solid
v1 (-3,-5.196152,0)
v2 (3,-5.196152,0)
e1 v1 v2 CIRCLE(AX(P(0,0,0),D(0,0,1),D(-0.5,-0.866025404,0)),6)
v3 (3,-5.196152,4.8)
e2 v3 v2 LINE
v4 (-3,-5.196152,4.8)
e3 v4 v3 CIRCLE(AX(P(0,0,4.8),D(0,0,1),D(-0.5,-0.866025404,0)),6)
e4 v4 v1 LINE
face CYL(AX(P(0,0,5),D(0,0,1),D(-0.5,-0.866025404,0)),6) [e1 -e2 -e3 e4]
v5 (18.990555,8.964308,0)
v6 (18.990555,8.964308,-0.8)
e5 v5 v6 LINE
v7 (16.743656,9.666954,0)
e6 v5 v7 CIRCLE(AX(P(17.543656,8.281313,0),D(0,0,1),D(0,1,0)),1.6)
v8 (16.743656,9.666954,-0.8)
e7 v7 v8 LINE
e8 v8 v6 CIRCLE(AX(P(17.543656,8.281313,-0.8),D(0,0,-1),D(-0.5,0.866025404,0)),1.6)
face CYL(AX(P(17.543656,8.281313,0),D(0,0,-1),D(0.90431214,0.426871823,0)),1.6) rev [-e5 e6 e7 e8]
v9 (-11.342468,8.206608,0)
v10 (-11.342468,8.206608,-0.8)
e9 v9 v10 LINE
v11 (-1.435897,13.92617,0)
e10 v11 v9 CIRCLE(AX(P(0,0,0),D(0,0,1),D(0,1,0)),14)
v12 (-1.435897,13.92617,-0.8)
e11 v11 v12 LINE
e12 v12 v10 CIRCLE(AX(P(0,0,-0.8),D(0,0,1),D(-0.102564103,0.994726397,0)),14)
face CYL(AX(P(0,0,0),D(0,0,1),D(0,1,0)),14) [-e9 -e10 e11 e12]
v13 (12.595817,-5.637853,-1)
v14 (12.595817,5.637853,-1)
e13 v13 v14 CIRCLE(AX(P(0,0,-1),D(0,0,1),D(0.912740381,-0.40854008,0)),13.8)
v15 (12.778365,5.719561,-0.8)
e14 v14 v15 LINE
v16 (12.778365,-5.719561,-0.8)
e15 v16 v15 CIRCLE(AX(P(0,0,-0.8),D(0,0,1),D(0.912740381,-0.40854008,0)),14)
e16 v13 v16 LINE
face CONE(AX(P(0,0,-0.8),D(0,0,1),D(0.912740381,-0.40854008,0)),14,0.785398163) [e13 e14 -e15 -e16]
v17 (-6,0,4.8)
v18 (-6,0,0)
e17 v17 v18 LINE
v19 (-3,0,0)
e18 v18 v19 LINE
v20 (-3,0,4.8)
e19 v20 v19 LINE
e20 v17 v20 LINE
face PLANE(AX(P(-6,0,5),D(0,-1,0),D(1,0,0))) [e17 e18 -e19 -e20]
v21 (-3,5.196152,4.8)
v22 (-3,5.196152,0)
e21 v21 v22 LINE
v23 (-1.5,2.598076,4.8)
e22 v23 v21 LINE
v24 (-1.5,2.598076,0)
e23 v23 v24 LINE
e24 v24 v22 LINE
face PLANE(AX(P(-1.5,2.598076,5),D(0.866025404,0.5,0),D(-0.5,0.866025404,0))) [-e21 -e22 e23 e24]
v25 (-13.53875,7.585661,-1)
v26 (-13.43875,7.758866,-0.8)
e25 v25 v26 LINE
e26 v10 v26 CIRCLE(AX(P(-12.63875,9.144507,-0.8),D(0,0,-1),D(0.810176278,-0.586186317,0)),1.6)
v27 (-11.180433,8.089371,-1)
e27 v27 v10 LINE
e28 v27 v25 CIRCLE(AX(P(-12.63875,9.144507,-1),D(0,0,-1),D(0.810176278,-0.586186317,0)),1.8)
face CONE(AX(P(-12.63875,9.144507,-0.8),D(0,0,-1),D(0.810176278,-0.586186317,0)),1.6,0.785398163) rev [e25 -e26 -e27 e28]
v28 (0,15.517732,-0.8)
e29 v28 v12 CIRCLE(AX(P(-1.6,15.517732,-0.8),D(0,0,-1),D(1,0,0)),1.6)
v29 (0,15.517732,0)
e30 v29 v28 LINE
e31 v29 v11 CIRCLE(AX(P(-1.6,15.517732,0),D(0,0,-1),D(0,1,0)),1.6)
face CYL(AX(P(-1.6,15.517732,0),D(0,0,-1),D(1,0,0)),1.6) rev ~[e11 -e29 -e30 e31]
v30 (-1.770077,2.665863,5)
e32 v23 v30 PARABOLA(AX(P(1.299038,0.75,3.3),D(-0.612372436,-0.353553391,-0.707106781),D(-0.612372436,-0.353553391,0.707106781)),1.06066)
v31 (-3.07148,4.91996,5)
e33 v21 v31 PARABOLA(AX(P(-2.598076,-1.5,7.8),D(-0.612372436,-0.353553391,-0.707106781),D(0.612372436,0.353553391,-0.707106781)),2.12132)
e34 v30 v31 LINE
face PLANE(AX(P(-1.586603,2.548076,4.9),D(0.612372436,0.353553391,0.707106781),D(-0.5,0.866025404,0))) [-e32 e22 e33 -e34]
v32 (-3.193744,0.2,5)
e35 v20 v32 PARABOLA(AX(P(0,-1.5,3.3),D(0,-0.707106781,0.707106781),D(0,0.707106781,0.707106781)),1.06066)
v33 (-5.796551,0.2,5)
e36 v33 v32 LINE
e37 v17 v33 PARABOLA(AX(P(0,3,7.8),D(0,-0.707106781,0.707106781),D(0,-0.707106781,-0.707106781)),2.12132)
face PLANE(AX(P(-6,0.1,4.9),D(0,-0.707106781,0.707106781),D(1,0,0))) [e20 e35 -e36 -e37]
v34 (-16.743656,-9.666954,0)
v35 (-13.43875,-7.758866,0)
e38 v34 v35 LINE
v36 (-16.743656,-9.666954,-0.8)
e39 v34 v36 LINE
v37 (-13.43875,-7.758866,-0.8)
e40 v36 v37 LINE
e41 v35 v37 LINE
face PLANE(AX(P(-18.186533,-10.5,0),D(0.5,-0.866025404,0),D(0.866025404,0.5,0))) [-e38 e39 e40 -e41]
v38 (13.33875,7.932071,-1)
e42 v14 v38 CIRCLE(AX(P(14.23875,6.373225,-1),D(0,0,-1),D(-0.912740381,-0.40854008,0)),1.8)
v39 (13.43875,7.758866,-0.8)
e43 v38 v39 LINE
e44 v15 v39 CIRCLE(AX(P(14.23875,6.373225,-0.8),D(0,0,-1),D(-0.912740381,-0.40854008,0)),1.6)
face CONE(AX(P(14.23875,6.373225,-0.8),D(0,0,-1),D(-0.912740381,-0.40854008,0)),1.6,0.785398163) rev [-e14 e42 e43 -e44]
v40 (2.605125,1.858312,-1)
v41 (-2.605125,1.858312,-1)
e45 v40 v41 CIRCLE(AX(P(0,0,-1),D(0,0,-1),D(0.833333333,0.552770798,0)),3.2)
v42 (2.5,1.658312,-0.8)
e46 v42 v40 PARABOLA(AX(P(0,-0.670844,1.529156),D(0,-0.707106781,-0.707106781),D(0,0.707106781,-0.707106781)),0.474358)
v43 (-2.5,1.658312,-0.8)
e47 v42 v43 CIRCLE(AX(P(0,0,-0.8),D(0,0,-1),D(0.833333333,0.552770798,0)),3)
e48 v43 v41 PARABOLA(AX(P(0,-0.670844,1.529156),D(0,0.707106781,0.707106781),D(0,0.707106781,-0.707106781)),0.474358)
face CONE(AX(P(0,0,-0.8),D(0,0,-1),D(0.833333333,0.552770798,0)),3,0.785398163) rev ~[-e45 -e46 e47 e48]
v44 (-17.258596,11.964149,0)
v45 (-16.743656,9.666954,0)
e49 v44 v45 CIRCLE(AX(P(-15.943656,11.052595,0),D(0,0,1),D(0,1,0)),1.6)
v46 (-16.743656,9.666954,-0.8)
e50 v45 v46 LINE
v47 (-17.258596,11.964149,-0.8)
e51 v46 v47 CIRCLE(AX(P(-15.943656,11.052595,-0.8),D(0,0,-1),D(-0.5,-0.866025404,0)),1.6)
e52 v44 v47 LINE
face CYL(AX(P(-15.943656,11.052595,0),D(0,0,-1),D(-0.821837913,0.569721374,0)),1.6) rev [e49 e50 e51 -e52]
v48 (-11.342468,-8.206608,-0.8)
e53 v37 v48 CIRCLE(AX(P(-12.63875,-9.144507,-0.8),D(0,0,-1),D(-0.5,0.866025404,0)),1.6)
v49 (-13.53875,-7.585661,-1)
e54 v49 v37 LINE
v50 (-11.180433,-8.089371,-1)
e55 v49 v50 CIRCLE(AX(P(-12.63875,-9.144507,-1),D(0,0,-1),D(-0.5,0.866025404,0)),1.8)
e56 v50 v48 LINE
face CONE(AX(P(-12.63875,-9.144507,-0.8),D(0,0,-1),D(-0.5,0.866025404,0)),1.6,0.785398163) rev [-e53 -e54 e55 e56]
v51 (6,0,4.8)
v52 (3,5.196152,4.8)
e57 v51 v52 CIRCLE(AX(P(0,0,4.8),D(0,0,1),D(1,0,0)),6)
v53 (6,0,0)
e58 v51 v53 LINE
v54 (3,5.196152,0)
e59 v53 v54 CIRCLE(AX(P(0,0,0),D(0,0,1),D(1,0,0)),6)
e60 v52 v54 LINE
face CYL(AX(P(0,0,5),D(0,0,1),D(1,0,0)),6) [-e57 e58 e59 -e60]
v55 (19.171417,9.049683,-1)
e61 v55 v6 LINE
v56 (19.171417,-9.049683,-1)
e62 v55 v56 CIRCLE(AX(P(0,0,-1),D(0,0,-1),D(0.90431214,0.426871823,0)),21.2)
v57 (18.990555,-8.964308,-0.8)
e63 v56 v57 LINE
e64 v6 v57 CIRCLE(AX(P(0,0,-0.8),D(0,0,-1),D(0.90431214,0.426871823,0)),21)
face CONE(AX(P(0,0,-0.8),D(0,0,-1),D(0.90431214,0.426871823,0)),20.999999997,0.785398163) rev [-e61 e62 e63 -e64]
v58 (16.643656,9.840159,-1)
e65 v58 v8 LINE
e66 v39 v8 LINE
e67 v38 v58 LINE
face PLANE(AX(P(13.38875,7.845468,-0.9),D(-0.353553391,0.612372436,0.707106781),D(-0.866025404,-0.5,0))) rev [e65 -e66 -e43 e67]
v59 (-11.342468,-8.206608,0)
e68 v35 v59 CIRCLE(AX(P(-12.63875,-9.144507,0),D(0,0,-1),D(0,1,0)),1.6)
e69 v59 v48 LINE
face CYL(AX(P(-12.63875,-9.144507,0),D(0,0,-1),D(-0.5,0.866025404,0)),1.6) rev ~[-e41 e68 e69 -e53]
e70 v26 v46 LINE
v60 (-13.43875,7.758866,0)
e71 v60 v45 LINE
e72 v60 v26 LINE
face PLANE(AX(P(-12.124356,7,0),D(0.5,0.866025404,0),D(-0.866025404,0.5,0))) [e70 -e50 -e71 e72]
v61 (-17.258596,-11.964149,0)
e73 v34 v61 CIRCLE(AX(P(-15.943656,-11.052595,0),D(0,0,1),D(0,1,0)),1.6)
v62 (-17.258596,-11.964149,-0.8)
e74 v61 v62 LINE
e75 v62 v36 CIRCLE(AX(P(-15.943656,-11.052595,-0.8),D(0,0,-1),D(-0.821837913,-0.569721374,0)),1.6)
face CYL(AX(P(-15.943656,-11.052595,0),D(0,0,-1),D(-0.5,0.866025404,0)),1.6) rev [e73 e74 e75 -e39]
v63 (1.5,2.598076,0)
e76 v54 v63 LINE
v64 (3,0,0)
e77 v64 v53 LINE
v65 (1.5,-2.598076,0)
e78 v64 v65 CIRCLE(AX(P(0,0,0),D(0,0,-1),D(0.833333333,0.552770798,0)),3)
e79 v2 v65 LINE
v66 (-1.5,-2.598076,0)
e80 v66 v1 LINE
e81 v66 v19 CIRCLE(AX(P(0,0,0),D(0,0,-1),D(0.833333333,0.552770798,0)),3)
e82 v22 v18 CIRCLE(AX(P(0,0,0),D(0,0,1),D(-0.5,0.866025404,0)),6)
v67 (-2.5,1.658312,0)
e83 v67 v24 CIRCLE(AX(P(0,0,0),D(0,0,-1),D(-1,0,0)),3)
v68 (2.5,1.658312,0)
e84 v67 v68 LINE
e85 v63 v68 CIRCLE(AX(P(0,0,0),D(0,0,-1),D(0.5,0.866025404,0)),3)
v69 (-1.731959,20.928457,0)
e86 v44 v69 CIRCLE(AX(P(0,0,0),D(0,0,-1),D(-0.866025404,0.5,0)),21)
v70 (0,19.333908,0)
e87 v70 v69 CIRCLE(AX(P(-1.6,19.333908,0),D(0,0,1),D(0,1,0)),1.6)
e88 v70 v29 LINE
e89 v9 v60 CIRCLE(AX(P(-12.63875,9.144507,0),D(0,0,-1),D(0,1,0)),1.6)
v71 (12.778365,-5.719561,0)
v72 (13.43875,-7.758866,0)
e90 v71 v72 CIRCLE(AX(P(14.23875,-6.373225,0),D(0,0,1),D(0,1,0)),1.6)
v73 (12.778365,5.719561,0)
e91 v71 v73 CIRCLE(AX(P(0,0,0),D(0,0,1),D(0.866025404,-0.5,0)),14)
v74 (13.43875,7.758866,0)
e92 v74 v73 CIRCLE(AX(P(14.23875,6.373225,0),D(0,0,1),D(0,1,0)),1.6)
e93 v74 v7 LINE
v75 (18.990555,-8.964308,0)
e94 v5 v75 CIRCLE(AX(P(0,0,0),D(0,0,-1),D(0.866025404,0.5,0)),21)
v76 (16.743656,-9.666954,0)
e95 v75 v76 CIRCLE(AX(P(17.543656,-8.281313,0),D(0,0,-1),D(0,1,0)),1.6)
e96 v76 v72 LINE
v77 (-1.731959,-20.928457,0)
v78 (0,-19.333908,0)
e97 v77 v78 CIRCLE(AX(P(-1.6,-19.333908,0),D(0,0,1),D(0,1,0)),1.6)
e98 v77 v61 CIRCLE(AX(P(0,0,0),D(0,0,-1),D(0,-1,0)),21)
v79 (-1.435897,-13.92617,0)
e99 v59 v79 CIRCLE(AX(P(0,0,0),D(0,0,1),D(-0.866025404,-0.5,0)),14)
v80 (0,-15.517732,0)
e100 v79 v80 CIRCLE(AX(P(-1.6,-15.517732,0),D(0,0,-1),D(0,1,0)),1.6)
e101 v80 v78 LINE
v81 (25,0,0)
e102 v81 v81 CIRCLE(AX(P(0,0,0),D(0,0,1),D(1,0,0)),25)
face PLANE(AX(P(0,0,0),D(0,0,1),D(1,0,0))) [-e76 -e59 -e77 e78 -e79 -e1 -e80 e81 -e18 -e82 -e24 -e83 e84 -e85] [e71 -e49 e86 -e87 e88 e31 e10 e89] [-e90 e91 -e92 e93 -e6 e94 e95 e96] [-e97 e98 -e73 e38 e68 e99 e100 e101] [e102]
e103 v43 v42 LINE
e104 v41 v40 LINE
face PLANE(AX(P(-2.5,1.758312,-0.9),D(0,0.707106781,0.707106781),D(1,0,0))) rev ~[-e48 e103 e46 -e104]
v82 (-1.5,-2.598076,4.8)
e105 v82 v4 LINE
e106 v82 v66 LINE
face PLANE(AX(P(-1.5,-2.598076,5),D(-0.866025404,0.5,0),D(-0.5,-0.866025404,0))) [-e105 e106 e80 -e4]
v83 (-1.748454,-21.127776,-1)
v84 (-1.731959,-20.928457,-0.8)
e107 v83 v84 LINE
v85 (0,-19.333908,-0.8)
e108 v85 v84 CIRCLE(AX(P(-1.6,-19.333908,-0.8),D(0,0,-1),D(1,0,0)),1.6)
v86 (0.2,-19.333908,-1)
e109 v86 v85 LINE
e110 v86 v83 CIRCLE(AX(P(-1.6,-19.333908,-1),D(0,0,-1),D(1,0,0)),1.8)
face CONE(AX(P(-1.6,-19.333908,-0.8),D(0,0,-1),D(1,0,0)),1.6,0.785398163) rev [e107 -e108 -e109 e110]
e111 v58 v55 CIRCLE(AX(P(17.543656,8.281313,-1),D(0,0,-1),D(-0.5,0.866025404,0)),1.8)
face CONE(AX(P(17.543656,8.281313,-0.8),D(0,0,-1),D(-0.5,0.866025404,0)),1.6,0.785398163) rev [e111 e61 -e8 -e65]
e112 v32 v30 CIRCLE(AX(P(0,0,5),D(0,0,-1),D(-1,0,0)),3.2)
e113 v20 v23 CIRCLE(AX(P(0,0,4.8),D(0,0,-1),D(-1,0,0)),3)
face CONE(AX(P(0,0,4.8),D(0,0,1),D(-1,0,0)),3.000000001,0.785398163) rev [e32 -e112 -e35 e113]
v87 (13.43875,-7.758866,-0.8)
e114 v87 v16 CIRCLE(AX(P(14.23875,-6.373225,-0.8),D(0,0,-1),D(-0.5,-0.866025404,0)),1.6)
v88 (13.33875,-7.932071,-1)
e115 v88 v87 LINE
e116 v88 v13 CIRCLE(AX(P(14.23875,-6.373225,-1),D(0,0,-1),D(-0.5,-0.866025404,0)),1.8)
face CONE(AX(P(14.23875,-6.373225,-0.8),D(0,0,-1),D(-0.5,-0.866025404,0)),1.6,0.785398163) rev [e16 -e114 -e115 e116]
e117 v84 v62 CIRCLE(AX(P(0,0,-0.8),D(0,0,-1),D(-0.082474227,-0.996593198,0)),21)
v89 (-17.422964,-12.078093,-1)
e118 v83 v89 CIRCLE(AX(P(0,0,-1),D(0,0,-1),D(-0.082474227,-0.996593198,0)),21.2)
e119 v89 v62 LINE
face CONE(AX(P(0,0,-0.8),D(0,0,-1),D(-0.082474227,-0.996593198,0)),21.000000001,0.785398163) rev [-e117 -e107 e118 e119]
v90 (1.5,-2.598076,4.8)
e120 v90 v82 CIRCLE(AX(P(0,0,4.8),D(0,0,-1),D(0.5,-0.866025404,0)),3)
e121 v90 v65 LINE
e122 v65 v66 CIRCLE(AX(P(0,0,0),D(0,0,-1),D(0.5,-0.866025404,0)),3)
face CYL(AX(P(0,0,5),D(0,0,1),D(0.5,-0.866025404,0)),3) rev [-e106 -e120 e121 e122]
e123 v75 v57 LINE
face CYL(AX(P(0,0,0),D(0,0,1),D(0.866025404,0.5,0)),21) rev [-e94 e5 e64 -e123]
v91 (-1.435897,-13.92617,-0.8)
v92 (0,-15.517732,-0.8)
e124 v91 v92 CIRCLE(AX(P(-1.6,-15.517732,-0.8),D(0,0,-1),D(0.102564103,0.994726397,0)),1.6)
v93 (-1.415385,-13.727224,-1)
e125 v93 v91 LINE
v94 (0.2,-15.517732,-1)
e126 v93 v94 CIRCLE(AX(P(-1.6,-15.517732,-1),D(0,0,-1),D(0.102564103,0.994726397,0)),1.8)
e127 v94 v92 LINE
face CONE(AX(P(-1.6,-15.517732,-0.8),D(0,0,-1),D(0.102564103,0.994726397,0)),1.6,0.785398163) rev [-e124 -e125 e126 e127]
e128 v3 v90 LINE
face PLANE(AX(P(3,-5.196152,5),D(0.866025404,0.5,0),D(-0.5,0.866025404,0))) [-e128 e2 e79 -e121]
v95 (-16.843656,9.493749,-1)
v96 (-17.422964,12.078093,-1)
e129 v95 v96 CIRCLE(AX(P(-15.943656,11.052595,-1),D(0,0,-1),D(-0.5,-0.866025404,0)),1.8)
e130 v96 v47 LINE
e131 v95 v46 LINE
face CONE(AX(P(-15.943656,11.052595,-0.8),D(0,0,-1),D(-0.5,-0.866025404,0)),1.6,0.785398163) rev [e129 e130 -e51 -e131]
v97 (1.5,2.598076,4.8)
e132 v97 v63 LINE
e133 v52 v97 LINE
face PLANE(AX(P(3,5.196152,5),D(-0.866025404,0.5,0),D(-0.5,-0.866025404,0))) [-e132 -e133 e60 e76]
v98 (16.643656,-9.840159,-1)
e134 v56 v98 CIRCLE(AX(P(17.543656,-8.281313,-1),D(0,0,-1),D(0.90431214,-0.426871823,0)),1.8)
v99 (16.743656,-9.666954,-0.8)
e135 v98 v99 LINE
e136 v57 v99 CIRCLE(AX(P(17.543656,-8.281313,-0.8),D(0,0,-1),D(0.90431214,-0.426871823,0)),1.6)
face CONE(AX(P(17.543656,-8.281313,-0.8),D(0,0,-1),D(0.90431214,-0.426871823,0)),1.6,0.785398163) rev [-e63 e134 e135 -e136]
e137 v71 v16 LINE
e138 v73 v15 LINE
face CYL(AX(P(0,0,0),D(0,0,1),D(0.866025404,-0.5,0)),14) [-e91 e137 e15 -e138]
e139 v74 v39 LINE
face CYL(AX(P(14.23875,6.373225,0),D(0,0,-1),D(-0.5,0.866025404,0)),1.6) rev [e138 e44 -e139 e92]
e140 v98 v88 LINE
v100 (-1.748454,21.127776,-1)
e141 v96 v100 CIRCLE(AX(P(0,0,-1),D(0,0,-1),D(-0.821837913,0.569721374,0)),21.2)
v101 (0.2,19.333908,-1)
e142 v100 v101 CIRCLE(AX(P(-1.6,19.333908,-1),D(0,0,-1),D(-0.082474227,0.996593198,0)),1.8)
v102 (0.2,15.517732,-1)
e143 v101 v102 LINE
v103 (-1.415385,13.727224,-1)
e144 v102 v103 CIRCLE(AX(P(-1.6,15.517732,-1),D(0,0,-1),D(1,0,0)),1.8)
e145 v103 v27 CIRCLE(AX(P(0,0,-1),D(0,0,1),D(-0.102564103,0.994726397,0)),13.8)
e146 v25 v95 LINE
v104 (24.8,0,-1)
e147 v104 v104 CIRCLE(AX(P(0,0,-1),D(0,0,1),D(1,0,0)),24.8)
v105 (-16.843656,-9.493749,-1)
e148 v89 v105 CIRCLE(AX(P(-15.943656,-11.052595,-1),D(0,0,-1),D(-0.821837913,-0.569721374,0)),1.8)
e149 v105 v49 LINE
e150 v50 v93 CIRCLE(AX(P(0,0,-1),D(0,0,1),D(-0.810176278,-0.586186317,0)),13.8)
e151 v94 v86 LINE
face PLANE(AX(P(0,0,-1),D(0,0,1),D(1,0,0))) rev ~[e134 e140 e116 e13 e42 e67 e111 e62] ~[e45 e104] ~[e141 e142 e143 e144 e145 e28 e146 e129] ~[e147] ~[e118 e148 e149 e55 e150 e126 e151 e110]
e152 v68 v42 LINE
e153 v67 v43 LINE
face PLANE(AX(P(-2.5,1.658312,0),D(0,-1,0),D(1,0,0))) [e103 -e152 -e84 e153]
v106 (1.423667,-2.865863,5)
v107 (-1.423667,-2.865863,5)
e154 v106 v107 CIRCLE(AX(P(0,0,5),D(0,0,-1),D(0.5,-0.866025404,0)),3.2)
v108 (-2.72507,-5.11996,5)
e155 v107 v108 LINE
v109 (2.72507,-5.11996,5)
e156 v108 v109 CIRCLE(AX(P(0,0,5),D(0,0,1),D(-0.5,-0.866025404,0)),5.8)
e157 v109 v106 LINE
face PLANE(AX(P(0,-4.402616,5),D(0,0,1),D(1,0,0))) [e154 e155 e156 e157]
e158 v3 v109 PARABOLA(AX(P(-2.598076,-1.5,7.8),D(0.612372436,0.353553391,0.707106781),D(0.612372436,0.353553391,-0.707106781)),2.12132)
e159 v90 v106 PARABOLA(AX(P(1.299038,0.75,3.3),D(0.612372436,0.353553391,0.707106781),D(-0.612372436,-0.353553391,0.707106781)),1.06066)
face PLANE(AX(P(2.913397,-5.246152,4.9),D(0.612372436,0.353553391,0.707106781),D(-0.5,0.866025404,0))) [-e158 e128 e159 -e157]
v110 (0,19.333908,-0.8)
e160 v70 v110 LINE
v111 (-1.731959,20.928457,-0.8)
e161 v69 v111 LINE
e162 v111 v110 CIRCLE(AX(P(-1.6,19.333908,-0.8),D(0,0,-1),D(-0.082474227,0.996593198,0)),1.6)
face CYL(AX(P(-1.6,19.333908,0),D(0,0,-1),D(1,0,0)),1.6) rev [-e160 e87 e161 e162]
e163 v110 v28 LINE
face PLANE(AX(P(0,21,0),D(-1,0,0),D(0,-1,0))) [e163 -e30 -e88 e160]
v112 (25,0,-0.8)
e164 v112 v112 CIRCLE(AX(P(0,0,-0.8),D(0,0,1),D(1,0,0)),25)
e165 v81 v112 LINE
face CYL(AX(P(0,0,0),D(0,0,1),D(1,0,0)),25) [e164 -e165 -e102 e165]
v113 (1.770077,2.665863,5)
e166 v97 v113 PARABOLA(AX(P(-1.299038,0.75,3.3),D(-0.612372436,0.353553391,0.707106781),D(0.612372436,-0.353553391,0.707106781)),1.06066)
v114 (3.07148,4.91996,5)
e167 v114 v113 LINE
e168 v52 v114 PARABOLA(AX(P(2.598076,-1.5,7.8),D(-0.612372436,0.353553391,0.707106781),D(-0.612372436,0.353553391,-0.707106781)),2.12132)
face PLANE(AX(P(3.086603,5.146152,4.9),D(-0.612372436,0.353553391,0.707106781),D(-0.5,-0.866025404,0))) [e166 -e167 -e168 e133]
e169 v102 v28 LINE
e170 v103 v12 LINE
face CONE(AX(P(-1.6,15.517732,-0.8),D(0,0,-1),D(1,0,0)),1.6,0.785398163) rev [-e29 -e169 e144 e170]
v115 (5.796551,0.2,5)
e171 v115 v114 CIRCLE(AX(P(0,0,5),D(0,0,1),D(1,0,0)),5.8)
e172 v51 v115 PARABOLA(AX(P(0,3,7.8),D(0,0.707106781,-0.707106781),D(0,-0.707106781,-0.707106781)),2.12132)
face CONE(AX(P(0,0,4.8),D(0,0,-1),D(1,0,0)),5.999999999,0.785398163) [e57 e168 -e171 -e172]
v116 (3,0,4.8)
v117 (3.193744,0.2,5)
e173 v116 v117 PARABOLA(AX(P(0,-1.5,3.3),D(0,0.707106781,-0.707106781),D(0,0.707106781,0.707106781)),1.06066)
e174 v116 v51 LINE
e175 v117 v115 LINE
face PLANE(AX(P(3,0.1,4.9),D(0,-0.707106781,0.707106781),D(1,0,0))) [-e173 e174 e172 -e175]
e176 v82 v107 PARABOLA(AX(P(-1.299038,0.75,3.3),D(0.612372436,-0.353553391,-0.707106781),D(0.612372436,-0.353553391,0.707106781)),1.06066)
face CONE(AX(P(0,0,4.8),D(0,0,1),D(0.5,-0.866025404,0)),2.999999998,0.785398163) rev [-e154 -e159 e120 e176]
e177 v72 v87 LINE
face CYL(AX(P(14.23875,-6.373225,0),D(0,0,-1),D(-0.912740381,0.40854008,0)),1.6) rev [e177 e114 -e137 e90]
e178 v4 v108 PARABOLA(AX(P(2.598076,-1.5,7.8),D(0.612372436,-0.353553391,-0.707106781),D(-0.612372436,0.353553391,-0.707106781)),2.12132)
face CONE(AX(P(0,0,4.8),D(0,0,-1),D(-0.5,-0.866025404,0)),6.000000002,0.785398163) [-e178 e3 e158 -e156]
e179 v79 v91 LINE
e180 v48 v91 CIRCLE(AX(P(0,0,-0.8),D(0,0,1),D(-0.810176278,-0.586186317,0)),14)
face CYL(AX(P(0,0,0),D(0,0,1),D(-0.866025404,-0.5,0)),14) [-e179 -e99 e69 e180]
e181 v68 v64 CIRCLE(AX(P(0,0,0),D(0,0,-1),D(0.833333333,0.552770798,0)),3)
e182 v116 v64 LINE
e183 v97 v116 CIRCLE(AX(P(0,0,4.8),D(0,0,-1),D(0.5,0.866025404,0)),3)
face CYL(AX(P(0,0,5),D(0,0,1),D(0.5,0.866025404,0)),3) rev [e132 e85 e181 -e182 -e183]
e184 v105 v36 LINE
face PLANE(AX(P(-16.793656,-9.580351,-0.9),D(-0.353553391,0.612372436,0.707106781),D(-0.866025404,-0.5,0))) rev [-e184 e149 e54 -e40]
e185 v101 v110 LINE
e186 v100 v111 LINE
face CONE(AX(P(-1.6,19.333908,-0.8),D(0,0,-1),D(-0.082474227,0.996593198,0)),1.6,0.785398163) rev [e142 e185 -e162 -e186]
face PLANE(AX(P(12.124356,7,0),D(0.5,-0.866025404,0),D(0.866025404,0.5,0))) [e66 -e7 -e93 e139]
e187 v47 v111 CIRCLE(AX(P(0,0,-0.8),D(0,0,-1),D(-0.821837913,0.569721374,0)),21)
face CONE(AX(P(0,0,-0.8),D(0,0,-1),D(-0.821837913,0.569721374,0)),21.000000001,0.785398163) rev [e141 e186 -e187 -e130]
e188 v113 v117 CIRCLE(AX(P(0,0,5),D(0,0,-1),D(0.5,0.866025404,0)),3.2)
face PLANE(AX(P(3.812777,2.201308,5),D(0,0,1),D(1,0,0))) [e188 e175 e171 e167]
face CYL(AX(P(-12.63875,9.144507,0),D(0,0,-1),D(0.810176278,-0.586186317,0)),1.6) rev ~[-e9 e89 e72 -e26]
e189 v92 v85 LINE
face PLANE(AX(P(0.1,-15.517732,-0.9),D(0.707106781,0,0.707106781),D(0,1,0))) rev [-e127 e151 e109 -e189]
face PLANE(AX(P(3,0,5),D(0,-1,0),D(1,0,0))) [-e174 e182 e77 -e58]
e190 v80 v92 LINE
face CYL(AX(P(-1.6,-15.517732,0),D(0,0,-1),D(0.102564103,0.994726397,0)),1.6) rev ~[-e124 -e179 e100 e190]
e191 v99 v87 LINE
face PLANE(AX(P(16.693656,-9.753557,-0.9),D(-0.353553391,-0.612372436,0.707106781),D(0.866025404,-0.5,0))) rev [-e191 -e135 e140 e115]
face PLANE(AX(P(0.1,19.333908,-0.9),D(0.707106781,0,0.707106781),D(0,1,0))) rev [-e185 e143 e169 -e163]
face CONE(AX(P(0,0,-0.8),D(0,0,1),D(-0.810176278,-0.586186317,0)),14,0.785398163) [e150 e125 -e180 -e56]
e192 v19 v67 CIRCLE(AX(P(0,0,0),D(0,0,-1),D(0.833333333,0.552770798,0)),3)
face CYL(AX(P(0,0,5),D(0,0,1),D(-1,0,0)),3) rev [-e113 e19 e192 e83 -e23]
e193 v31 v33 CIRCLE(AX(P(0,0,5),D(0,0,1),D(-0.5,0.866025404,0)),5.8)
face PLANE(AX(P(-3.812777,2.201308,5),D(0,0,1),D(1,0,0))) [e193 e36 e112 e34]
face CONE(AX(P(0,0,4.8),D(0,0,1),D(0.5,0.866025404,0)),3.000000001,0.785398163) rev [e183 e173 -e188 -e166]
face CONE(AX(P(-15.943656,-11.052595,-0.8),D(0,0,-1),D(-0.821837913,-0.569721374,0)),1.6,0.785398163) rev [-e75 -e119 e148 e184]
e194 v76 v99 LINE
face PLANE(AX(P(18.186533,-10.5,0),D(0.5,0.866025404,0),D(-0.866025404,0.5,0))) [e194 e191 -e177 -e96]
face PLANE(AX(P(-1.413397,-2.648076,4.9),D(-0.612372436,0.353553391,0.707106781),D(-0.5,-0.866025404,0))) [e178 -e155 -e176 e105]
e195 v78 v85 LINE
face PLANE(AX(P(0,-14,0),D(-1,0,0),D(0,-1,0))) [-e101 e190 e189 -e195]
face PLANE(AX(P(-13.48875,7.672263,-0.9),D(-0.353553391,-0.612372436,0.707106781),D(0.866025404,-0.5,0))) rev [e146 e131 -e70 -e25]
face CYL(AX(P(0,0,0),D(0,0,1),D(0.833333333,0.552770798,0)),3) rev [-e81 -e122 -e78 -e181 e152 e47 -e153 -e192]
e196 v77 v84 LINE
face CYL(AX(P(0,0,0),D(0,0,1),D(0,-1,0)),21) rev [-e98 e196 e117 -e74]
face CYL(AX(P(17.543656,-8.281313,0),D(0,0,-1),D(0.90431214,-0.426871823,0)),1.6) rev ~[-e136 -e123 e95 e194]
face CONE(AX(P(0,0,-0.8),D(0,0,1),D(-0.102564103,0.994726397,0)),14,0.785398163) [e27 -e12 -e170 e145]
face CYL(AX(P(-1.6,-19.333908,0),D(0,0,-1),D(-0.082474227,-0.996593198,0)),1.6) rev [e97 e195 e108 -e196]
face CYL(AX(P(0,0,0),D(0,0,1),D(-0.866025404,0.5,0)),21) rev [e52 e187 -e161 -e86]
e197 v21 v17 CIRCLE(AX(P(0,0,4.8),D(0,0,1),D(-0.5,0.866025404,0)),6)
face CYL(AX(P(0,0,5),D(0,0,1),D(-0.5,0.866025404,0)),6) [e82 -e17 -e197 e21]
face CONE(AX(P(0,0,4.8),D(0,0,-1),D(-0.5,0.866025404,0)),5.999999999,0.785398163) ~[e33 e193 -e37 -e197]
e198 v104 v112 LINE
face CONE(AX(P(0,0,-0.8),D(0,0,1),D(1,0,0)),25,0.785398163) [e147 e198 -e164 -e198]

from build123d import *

# Parameters (mm, degrees)
SKETCH_1_R      = 25
EXTRUDE_1_DEPTH = 1
FILLET_1_R      = 1.6
EXTRUDE_START   = 5
EXTRUDE_3_DEPTH = 5
CHAMFER_3_SIZE  = 0.2


with BuildPart() as part:
    # 草图1 → 凸台-拉伸1 (new body)
    with BuildSketch(Plane.XY):
        Circle(SKETCH_1_R)
        with BuildLine():
            Line((-2.5, 1.658312395), (2.5, 1.658312395))
            ThreePointArc((2.5, 1.658312395), (0, -3), (-2.5, 1.658312395))
        make_face(mode=Mode.SUBTRACT)
        with BuildLine():
            ThreePointArc((-12.124355653, -7), (-7, -12.124355653), (0, -14))
            Line((0, -14), (0, -21))
            ThreePointArc((0, -21), (-10.5, -18.186533479), (-18.186533479, -10.5))
            Line((-18.186533479, -10.5), (-12.124355653, -7))
        make_face(mode=Mode.SUBTRACT)
        with BuildLine():
            ThreePointArc((0, 14), (-7, 12.124355653), (-12.124355653, 7))
            Line((-12.124355653, 7), (-18.186533479, 10.5))
            ThreePointArc((-18.186533479, 10.5), (-10.5, 18.186533479), (0, 21))
            Line((0, 21), (0, 14))
        make_face(mode=Mode.SUBTRACT)
        with BuildLine():
            Line((18.186533479, -10.5), (12.124355653, -7))
            ThreePointArc((12.124355653, -7), (14, 0), (12.124355653, 7))
            Line((12.124355653, 7), (18.186533479, 10.5))
            ThreePointArc((18.186533479, 10.5), (21, 0), (18.186533479, -10.5))
        make_face(mode=Mode.SUBTRACT)
    extrude(amount=-EXTRUDE_1_DEPTH)

    # 圆角1
    fillet_1_edges = [part.edges().sort_by_distance(p)[0] for p in [
        (-18.186533479, -10.5, -0.5),
        (0, -21, -0.5),
        (0, -14, -0.5),
        (-12.124355653, -7, -0.5),
        (18.186533479, -10.5, -0.5),
        (18.186533479, 10.5, -0.5),
        (12.124355653, 7, -0.5),
        (12.124355653, -7, -0.5),
        (-18.186533479, 10.5, -0.5),
        (-12.124355653, 7, -0.5),
        (0, 14, -0.5),
        (0, 21, -0.5),
    ]]
    fillet(fillet_1_edges, radius=FILLET_1_R)

    # 草图1<5> → 凸台-拉伸3 (add)
    with BuildSketch(Plane.XY.offset(EXTRUDE_START)):
        with BuildLine():
            ThreePointArc((-3, 0), (-2.598076211, 1.5), (-1.5, 2.598076211))
            Line((-1.5, 2.598076211), (-3, 5.196152423))
            ThreePointArc((-3, 5.196152423), (-5.196152423, 3), (-6, 0))
            Line((-6, 0), (-3, 0))
        make_face()
        with BuildLine():
            ThreePointArc((1.5, 2.598076211), (2.598076211, 1.5), (3, 0))
            Line((3, 0), (6, 0))
            ThreePointArc((6, 0), (5.196152423, 3), (3, 5.196152423))
            Line((3, 5.196152423), (1.5, 2.598076211))
        make_face()
        with BuildLine():
            ThreePointArc((1.5, -2.598076211), (0, -3), (-1.5, -2.598076211))
            Line((-1.5, -2.598076211), (-3, -5.196152423))
            ThreePointArc((-3, -5.196152423), (0, -6), (3, -5.196152423))
            Line((3, -5.196152423), (1.5, -2.598076211))
        make_face()
    extrude(amount=-EXTRUDE_3_DEPTH)

    # 倒角3
    chamfer_3_edges = [part.edges().sort_by_distance(p)[0] for p in [
        (-0.412026073, 14.44594919, -1),
        (-0.516287404, 20.511009142, -1),
        (0, 1.658312395, -1),
        (-4.5, 0, 5),
        (-2.598076211, 1.5, 5),
        (-2.25, 3.897114317, 5),
        (-5.196152423, 3, 5),
        (2.25, 3.897114317, 5),
        (2.598076211, 1.5, 5),
        (4.5, 0, 5),
        (5.196152423, 3, 5),
        (2.25, -3.897114317, 5),
        (0, -3, 5),
        (-2.25, -3.897114317, 5),
        (0, -6, 5),
        (-25, 0, -1),
        (-10.5, -18.186533479, -1),
        (-15.091202728, -8.712909958, -1),
        (-7, -12.124355653, -1),
        (0, -17.425819915, -1),
        (21, 0, -1),
        (15.091202728, -8.712909958, -1),
        (15.091202728, 8.712909958, -1),
        (14, 0, -1),
        (-15.091202728, 8.712909958, -1),
        (-10.5, 18.186533479, -1),
        (-7, 12.124355653, -1),
        (0, 17.425819915, -1),
        (-17.504911272, -10.702622579, -1),
        (0, -3, -1),
        (-12.304545944, -7.579799641, -1),
        (-0.412026073, -14.44594919, -1),
        (-0.516287404, -20.511009142, -1),
        (18.021198676, -9.808386563, -1),
        (18.021198676, 9.808386563, -1),
        (12.716572017, 6.866149549, -1),
        (12.716572017, -6.866149549, -1),
        (-17.504911272, 10.702622579, -1),
        (-12.304545944, 7.579799641, -1),
    ]]
    chamfer(chamfer_3_edges, length=CHAMFER_3_SIZE)


solid = part.part
